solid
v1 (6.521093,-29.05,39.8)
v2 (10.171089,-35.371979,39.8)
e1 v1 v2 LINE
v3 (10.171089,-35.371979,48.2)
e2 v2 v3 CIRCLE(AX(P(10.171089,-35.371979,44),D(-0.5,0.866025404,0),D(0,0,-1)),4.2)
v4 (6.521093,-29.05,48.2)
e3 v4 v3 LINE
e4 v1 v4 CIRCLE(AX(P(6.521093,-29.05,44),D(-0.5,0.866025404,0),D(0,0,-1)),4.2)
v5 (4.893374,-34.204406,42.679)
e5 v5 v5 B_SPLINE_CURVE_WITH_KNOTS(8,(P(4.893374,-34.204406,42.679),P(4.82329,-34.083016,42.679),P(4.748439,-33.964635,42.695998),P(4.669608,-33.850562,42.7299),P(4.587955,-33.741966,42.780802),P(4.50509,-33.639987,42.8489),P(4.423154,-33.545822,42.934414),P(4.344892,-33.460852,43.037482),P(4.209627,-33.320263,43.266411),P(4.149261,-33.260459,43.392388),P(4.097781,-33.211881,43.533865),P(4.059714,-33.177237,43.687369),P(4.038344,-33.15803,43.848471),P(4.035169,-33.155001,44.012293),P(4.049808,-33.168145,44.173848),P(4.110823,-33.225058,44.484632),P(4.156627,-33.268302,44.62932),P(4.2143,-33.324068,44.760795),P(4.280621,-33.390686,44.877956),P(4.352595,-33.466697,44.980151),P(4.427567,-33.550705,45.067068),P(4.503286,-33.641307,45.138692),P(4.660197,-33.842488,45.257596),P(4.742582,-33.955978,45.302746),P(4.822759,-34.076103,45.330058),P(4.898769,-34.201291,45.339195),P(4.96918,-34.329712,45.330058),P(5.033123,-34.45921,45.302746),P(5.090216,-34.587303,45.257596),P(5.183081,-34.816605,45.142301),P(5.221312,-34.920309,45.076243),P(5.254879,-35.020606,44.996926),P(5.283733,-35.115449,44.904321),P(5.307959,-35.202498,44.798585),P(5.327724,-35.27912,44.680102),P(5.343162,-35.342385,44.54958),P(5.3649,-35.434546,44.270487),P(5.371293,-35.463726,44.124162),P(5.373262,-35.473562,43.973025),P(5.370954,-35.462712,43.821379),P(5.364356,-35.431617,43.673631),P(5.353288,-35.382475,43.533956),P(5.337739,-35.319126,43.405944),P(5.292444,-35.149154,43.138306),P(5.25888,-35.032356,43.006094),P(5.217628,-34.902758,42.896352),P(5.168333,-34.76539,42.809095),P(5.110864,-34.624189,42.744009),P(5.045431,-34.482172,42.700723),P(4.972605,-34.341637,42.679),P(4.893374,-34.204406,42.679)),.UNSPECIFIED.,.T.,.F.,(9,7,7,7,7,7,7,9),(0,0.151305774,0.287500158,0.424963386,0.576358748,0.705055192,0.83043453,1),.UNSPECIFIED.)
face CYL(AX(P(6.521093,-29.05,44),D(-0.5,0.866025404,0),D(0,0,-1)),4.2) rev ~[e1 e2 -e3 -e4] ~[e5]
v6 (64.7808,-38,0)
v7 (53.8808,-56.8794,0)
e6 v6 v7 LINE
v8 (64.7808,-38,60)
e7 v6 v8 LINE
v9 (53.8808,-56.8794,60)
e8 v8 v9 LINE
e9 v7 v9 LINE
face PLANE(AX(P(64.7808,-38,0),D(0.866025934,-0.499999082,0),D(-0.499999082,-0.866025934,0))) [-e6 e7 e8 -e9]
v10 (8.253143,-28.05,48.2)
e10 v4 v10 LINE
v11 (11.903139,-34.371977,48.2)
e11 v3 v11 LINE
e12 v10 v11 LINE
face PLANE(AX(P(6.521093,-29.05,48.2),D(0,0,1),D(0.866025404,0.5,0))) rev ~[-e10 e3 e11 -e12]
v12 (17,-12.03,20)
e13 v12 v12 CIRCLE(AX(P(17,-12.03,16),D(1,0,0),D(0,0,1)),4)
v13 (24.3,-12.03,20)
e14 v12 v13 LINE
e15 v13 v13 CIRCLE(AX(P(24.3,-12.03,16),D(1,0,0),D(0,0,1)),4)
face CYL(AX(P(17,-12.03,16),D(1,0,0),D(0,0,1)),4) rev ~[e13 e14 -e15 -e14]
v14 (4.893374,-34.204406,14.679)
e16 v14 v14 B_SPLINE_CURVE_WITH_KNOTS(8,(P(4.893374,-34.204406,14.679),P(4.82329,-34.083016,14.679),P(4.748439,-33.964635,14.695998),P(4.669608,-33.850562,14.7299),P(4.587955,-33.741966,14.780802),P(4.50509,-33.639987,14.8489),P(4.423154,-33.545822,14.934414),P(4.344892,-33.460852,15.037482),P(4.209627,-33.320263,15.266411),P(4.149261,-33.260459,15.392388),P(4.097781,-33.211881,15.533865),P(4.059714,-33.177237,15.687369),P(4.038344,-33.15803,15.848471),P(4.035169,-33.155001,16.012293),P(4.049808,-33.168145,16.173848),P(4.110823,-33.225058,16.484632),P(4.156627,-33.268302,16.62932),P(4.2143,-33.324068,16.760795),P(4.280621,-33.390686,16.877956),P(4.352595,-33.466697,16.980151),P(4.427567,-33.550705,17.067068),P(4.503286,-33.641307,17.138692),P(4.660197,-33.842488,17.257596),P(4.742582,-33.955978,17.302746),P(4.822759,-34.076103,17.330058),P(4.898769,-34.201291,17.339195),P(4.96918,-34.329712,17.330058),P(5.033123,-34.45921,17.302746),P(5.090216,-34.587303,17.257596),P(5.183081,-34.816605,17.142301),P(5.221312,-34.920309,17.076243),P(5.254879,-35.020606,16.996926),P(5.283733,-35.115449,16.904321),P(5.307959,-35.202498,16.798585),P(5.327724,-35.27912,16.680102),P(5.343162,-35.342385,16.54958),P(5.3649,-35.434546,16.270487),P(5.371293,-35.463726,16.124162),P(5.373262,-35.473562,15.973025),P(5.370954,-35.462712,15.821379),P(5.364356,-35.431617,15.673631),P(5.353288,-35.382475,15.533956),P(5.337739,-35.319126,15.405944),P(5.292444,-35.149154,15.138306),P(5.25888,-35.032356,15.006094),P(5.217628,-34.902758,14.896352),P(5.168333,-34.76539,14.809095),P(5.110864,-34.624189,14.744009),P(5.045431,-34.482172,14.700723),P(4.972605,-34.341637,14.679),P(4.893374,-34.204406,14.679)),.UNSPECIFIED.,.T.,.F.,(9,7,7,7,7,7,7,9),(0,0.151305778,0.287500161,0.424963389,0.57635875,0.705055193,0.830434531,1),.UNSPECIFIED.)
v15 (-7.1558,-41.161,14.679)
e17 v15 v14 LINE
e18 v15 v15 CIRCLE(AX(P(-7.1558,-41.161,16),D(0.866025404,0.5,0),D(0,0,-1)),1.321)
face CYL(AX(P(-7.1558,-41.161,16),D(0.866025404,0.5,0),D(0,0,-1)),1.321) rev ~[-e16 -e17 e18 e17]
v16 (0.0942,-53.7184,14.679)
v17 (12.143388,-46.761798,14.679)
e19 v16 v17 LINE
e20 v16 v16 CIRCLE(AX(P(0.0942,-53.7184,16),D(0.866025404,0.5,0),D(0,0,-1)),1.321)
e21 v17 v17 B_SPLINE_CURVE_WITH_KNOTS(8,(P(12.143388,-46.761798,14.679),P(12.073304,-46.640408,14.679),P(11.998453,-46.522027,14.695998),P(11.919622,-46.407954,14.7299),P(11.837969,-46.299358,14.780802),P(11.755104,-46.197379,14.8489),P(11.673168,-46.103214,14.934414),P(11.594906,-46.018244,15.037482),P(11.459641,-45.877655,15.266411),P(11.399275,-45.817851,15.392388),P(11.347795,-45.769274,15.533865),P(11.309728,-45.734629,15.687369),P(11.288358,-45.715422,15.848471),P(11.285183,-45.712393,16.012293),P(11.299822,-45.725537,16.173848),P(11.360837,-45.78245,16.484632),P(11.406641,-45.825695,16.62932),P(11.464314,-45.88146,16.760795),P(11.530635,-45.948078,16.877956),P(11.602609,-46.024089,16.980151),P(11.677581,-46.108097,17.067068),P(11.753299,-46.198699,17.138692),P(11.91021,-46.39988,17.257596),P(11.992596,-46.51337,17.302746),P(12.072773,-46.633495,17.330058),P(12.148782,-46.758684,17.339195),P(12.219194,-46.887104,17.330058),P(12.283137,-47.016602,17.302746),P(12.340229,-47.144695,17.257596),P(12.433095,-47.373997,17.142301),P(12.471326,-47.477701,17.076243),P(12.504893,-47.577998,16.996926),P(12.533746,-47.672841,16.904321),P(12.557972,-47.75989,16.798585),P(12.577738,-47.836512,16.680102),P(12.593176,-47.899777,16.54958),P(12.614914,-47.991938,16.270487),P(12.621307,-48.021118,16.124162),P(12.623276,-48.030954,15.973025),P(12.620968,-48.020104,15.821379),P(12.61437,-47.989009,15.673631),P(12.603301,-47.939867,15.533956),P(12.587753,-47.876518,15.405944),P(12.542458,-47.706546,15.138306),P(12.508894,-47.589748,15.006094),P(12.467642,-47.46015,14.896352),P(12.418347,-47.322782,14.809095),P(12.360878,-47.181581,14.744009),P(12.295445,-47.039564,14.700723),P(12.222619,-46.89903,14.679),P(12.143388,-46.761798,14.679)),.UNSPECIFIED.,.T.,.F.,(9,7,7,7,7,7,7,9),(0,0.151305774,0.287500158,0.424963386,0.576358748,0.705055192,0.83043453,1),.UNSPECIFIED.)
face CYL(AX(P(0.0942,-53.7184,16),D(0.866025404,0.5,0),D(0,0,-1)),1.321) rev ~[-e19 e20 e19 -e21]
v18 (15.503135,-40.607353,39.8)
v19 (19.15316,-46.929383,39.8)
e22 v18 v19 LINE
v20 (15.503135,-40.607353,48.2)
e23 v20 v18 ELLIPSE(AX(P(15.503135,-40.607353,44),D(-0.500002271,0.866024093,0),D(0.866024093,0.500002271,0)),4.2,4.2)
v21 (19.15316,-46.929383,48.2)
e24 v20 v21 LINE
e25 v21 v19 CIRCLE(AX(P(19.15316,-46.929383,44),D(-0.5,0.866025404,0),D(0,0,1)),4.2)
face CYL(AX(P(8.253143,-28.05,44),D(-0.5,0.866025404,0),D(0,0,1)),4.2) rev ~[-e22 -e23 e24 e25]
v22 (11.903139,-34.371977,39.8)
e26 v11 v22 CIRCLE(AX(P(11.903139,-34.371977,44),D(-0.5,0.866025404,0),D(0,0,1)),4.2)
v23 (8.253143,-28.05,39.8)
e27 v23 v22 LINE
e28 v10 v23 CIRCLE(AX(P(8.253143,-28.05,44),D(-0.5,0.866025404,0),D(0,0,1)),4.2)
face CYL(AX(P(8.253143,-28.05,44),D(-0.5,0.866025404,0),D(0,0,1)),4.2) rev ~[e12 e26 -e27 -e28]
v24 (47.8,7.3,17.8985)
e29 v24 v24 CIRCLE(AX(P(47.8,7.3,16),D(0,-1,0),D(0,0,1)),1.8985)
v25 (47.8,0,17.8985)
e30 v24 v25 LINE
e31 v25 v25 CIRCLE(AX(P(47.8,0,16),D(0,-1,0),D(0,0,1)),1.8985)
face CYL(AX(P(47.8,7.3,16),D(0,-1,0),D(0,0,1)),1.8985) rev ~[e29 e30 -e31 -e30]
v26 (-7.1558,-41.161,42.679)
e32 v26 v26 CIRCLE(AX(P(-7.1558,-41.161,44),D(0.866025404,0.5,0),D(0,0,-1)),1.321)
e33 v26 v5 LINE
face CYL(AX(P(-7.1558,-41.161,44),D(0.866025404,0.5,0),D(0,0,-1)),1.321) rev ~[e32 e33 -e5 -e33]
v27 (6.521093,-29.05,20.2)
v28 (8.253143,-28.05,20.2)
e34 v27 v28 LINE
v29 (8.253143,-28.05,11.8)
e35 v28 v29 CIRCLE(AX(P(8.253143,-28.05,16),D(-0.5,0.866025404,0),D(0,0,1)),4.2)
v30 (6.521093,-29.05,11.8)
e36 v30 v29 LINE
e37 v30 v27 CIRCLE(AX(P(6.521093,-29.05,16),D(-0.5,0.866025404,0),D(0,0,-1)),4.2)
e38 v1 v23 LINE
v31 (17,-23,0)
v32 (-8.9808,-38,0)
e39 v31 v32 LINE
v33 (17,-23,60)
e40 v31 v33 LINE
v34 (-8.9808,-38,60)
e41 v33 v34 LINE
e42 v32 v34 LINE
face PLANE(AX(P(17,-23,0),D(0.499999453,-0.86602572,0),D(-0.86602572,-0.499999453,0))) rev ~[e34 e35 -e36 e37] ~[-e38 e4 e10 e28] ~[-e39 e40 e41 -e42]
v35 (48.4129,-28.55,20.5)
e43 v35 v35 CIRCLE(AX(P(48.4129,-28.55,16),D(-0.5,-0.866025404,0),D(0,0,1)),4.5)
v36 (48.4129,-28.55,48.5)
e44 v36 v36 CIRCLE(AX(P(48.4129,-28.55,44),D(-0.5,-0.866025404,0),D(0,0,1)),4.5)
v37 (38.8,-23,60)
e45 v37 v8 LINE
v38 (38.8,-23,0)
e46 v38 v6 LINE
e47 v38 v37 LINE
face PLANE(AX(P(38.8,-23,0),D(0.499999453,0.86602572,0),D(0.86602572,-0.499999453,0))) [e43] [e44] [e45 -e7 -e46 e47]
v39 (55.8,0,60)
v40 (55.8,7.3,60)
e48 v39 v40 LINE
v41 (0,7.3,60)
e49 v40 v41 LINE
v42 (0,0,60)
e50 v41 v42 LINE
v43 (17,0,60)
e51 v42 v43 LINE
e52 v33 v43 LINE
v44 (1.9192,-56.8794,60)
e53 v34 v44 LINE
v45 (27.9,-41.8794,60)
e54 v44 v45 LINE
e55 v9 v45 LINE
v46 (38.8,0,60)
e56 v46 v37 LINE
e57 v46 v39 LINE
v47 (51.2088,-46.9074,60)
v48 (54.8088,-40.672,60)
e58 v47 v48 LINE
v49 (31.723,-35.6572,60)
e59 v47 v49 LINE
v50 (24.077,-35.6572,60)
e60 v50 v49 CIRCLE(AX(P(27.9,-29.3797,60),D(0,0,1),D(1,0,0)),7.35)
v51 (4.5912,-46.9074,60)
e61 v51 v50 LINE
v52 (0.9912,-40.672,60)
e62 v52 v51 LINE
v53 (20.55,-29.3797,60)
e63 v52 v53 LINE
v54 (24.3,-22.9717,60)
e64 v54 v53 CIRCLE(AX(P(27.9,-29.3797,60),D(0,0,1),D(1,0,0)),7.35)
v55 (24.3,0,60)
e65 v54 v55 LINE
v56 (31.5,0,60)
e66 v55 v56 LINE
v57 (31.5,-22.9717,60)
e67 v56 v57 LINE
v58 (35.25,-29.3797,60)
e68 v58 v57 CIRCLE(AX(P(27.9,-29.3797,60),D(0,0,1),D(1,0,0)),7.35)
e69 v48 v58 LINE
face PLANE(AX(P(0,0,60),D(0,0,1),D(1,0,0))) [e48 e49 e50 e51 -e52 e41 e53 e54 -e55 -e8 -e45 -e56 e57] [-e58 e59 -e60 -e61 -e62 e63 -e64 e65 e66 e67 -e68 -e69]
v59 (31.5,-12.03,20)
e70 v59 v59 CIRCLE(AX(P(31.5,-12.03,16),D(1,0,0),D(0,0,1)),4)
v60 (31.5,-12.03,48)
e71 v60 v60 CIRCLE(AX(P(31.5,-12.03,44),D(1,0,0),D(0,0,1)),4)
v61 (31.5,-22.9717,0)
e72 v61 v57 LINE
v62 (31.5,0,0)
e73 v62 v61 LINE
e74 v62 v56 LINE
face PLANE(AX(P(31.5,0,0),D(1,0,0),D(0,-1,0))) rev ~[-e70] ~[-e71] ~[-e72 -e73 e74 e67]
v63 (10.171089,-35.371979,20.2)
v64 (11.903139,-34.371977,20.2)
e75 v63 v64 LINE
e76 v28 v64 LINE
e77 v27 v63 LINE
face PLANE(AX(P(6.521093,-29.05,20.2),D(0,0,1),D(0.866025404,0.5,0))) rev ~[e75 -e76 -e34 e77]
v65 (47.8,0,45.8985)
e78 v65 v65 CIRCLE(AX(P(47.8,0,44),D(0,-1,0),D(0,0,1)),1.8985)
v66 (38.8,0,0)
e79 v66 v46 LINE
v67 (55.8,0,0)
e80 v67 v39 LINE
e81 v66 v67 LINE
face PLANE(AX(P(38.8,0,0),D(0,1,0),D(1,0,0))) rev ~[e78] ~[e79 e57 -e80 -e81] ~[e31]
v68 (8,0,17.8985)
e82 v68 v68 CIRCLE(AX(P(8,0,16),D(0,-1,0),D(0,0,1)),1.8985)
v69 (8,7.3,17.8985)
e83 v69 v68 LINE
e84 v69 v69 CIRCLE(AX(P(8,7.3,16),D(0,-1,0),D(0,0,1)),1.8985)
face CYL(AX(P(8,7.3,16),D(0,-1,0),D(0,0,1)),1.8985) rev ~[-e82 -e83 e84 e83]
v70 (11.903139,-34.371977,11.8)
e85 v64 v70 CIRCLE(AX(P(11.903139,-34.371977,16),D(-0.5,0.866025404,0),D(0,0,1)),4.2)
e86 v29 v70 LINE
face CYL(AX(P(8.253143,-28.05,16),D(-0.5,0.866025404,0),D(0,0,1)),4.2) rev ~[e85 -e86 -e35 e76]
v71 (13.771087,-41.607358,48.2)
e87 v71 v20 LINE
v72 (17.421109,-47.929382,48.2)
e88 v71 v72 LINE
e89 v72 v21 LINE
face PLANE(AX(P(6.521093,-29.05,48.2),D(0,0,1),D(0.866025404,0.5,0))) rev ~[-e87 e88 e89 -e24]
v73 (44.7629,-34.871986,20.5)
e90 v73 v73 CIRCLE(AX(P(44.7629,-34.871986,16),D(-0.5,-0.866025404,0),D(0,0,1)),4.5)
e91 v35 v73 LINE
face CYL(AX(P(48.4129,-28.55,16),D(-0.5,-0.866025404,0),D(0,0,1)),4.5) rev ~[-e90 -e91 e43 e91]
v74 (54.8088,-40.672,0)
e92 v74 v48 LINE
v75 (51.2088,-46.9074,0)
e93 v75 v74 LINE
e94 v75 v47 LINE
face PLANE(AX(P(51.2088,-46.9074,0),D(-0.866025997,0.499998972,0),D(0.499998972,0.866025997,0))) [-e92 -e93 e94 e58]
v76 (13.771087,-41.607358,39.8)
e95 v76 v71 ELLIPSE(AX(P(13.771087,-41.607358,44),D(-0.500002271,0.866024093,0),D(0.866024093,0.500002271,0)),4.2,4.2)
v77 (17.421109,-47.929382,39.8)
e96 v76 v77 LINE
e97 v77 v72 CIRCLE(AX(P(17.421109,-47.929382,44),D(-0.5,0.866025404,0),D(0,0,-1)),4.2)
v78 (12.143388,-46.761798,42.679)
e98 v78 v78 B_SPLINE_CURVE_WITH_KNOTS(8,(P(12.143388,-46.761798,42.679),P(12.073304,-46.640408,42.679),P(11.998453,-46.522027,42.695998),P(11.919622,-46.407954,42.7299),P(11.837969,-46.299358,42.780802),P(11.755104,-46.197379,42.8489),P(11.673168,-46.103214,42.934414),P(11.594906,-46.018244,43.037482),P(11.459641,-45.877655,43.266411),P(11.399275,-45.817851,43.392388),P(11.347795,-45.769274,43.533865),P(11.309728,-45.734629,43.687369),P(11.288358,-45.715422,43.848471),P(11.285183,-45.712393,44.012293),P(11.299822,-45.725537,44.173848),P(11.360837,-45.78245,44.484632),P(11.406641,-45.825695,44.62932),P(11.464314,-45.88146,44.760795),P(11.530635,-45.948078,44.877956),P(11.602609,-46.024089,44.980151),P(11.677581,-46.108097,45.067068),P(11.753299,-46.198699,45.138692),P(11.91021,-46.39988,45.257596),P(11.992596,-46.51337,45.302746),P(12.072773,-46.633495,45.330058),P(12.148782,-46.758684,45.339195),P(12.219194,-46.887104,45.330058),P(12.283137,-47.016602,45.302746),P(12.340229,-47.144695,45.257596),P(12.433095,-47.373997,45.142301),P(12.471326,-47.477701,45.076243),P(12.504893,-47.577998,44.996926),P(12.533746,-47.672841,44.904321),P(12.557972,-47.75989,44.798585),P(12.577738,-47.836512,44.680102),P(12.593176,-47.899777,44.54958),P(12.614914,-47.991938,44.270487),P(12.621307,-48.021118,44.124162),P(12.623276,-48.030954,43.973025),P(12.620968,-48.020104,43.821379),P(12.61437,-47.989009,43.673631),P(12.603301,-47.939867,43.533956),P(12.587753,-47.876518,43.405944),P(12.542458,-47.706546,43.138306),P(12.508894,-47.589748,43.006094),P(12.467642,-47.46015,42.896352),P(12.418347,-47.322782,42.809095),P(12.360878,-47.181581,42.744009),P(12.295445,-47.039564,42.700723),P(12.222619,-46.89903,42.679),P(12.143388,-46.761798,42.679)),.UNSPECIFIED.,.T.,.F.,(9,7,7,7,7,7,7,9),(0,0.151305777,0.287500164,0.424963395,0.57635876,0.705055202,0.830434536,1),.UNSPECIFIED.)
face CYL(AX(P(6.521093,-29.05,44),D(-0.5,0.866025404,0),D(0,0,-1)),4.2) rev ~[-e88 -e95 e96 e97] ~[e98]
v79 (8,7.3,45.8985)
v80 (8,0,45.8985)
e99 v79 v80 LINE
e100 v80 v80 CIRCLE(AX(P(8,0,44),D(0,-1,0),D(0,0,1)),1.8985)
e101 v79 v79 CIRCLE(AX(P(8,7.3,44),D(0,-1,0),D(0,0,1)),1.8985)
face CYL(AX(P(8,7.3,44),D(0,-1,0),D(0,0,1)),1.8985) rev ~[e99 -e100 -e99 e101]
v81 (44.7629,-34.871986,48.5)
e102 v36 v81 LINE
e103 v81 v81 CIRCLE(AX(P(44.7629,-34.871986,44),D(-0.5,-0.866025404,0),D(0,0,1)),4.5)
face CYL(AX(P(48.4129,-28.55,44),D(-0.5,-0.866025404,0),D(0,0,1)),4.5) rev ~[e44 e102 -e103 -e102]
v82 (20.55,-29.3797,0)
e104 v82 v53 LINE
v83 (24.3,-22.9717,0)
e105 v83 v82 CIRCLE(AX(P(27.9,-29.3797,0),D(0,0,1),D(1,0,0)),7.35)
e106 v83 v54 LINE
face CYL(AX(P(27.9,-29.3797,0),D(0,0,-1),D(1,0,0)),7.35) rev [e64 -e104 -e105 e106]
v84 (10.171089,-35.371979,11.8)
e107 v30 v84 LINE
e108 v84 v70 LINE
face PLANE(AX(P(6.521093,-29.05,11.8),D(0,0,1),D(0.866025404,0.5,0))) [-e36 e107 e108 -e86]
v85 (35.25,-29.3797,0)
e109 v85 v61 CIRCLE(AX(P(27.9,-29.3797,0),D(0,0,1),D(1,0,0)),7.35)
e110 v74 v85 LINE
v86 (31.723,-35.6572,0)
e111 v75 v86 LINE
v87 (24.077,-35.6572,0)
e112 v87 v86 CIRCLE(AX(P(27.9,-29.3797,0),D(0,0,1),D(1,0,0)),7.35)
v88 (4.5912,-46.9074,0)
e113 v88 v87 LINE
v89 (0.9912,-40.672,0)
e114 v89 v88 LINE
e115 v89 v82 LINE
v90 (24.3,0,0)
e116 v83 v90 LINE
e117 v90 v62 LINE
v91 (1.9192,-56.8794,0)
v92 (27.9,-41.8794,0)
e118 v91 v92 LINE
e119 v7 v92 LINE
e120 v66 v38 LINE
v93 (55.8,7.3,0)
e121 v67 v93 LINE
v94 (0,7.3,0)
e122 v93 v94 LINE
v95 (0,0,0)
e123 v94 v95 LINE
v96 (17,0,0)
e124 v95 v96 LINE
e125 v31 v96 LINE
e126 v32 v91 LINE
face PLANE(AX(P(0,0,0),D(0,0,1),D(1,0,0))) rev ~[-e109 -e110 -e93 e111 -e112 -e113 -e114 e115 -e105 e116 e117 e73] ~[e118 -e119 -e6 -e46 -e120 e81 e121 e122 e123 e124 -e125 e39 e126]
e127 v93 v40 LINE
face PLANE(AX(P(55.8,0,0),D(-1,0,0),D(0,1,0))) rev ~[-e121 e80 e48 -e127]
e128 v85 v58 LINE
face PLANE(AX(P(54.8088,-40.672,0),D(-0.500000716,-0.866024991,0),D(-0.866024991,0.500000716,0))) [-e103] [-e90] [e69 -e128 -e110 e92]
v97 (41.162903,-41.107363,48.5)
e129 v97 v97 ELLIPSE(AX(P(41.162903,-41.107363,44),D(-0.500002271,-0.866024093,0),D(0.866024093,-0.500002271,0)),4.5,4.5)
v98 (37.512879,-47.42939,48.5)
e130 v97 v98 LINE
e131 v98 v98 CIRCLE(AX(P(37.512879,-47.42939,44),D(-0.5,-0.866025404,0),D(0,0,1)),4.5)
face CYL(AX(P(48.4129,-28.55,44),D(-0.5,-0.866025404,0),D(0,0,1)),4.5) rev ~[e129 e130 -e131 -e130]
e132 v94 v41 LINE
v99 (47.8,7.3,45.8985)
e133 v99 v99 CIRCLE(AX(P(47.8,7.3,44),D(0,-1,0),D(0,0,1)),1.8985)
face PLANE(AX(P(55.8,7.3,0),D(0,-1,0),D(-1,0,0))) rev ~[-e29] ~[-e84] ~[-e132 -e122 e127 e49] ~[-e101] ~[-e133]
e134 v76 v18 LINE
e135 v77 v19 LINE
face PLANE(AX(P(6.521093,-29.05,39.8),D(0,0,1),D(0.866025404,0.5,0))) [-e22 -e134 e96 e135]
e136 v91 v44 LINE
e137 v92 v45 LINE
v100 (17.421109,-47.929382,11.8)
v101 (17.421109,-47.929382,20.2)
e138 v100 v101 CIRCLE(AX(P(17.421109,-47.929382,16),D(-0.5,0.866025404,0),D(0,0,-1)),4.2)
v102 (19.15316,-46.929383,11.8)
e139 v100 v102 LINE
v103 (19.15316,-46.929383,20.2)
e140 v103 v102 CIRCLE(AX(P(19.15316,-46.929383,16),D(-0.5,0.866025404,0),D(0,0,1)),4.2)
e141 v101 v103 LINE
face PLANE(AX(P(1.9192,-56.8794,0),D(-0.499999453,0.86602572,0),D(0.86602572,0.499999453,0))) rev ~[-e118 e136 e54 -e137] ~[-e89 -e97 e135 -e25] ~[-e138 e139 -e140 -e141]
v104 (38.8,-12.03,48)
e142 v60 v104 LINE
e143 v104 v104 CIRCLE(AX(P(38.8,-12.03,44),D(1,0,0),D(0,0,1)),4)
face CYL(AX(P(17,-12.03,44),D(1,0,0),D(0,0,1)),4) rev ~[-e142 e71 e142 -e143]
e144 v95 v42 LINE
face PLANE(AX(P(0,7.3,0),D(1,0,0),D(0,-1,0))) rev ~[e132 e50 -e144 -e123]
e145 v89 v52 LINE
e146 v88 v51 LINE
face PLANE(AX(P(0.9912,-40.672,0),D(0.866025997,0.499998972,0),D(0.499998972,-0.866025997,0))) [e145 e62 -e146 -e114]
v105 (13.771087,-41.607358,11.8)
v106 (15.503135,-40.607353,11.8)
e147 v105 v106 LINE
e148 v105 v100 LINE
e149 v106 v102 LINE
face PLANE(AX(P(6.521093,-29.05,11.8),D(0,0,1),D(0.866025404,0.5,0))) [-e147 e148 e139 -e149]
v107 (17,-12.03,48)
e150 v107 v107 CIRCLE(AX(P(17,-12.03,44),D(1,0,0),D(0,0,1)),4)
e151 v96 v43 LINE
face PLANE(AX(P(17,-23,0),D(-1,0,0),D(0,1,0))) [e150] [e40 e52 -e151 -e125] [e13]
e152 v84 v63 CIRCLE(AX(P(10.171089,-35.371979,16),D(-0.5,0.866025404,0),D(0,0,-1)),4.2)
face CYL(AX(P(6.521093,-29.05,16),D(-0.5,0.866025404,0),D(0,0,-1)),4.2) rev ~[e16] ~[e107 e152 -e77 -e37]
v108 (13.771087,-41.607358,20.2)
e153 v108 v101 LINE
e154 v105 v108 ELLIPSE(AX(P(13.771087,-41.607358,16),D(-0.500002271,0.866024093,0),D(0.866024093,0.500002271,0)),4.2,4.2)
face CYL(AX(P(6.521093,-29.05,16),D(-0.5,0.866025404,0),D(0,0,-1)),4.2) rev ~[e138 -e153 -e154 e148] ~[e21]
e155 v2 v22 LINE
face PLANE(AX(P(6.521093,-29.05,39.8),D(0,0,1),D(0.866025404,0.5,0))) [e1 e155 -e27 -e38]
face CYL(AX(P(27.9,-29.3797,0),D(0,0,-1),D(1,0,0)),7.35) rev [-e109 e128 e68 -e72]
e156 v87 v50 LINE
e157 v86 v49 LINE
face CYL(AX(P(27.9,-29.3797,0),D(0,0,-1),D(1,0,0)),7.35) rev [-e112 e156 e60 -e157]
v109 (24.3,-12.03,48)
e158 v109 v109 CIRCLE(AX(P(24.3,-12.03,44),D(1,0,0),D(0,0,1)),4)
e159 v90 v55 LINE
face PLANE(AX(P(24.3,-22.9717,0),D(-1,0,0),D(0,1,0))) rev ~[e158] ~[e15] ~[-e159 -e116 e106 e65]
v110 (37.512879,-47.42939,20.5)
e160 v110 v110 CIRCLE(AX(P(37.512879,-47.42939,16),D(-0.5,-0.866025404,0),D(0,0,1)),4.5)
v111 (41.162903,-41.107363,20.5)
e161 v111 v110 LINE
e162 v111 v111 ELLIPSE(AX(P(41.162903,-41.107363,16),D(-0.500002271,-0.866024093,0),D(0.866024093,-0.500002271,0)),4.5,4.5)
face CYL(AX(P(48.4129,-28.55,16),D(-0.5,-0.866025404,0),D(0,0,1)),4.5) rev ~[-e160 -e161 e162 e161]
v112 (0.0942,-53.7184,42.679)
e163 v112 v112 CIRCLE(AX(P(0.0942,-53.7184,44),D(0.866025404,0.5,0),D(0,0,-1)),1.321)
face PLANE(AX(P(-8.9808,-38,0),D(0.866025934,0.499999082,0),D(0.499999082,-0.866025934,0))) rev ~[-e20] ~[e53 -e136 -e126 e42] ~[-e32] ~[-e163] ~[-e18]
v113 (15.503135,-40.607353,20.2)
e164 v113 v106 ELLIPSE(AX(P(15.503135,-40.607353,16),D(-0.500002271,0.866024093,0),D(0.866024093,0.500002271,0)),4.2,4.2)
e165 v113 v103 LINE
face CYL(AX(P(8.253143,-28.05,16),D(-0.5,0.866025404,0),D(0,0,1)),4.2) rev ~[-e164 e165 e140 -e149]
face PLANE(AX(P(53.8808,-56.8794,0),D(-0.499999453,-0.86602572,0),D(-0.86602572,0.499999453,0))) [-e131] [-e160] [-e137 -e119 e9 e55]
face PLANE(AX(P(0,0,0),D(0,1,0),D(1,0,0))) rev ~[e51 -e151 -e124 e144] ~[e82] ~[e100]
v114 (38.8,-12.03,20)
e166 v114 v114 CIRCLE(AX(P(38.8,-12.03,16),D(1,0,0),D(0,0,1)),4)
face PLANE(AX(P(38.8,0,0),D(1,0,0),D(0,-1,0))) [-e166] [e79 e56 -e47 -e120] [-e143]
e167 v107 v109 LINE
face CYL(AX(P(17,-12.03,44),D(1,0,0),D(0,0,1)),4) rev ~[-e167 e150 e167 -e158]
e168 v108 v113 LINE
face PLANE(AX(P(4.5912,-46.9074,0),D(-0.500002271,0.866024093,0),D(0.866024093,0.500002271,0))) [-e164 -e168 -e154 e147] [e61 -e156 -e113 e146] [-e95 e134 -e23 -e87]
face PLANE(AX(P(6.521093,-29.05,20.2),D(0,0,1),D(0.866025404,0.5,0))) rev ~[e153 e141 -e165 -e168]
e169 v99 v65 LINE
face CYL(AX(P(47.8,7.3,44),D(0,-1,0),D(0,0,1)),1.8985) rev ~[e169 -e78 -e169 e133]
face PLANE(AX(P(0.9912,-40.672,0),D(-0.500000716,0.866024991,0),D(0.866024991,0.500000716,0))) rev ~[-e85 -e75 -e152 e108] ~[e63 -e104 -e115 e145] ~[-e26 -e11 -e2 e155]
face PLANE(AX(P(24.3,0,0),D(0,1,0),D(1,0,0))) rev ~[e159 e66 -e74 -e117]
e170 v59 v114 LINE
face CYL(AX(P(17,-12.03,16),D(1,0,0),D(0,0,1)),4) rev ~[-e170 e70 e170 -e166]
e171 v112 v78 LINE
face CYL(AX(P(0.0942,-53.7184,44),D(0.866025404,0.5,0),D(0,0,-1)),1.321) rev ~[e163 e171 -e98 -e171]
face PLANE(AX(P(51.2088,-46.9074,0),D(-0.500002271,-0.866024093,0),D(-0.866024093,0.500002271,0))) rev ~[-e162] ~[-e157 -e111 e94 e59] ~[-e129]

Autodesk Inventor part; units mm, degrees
ref_plane "YZ Plane" through (0, 0, 0) normal (1, 0, 0) x (0, 1, 0)
ref_plane "XZ Plane" through (0, 0, 0) normal (0, 1, 0) x (-1, 0, 0)
ref_plane "XY Plane" through (0, 0, 0) normal (0, 0, 1) x (1, 0, 0)
sketch "Sketch - Bearing Body" plane through (0, 0, 0) normal (0, 0, 1) x (1, 0, 0)
  line L0 (55.8, 0) -> (55.8, 7.3)
  line L1 (55.8, 7.3) -> (0, 7.3)
  line L2 (0, 7.3) -> (0, 0)
  line L3 (38.8, 0) -> (38.8, -23)
  line L4 (17, -23) -> (17, 0)
  line L5 (17, -23) -> (-8.9808, -38)
  line L6 (-8.9808, -38) -> (1.9192, -56.8794)
  line L7 (1.9192, -56.8794) -> (27.9, -41.8794)
  line L8 (38.8, -23) -> (64.7808, -38)
  line L9 (64.7808, -38) -> (53.8808, -56.8794)
  line L10 (53.8808, -56.8794) -> (27.9, -41.8794)
  line L11 (0, 0) -> (17, 0)
  line L12 (38.8, 0) -> (55.8, 0)
  line L13 (24.3, 0) -> (31.5, 0)
  line L14 (31.5, 0) -> (31.5, -22.9717)
  line L15 (24.3, -22.9717) -> (24.3, 0)
  line L16 (0.9912, -40.672) -> (4.5912, -46.9074)
  line L17 (4.5912, -46.9074) -> (24.077, -35.6572)
  line L18 (0.9912, -40.672) -> (20.55, -29.3797)
  line L19 (51.2088, -46.9074) -> (54.8088, -40.672)
  line L20 (54.8088, -40.672) -> (35.25, -29.3797)
  line L21 (51.2088, -46.9074) -> (31.723, -35.6572)
  circle A0 centre (27.9, -29.3797) radius 7.35
  point P0 (17, -11.5)
  point P1 (51.7904, -30.5)
  dimension "d1" = 7.3
  dimension "d3" = 23
  dimension "LegLength" = 30
  dimension "d7" = 21.8
  dimension "d12" = 30
  dimension "d13" = 21.8
  dimension "LegAngle2" = 120
  dimension "d15" = 120
  dimension "d17" = 21.8
  dimension "d19" = 17
  dimension "d20" = 17
  dimension "d22" = 7.2
  dimension "d23" = 7.3
  dimension "d24" = 7.3
  dimension "d25" = 7.2
  dimension "d26" = 7.3
  dimension "d27" = 7.2
  dimension "d28" = 7.3
  dimension "d29" = 7.3
  dimension "d77" = 14.7
extrude "Extrusion - Bearing Body" add sketch "Sketch - Bearing Body" along normal blind 60
sketch "Sketch - Bearing Screw Holes 1" plane through (17, -23, 60) normal (-0.5, 0.866, 0) x (0.866, 0.5, 0)
  line L0 (-30, 0) -> (0, 0) projected
  line L1 (-30, 60) -> (0, 60) projected
  line L2 (-30, 60) -> (-30, 0) projected
  line L3 (0, 60) -> (0, 0) projected
  line L4 (-12.1, 48.2) -> (-10.1, 48.2)
  line L5 (-12.1, 39.8) -> (-10.1, 39.8)
  line L6 (-12.1, 20.2) -> (-10.1, 20.2)
  line L7 (-12.1, 11.8) -> (-10.1, 11.8)
  arc A0 (-12.1, 20.2) -> (-12.1, 11.8) centre (-12.1, 16) ccw
  arc A1 (-10.1, 11.8) -> (-10.1, 20.2) centre (-10.1, 16) ccw
  arc A2 (-10.1, 39.8) -> (-10.1, 48.2) centre (-10.1, 44) ccw
  arc A3 (-12.1, 48.2) -> (-12.1, 39.8) centre (-12.1, 44) ccw
  point P0 (-3.2224, 60)
  point P1 (-11.1, 16)
  point P2 (-11.1, 44)
  point P3 (-11.1, 48.2)
  point P4 (-11.1, 39.8)
  point P5 (-11.1, 20.2)
  point P6 (-11.1, 11.8)
  dimension "d47" = 16
  dimension "d48" = 18.9
  dimension "d49" = 16
  dimension "BearingHoleElipseMiddle" = 2
  dimension "BearingBoltRadius" = 4.2
  dimension "d91" = 4.2
  dimension "d92" = 4.2
  dimension "d93" = 4.2
  dimension "d94" = 4.2
sketch "Sketch - Bearing Screw Holes 2" plane through (64.7808, -38, 60) normal (0.5, 0.866, 0) x (0.866, -0.5, 0)
  line L0 (-30, 0) -> (0, 0) projected
  line L1 (0, 60) -> (0, 0) projected
  line L2 (-30, 60) -> (0, 60) projected
  point P0 (-75.1018, 60)
  point P1 (-18.9, 16)
  point P2 (-18.9, 44)
  dimension "d50" = 18.9
  dimension "d51" = 16
  dimension "d52" = 16
hole "Hole - Bearing Screw Holes 2" at (48.4129, -28.55, 16) at (48.4129, -28.55, 44) direction (-0.5, -0.866, 0) diameter 9 end through all clearance for "Socket Head Cap Screw ISO 4762" size "M8" standard "ISO"
sketch "Sketch - Bearing Screw Holes 3" plane through (17, -23, 0) normal (-1, 0, 0) x (0, 0, 1)
  line L0 (60, 0) -> (60, 23) projected
  line L1 (0, 23) -> (60, 23) projected
  line L2 (0, 0) -> (0, 23) projected
  point P0 (16, 10.97)
  point P1 (44, 10.97)
  dimension "d67" = 16
  dimension "d68" = 12.03
  dimension "d69" = 16
hole "Hole - Bearing Screw Holes 3" at (17, -12.03, 16) at (17, -12.03, 44) direction (1, 0, 0) diameter 8 end through all clearance for "Hex Head Cap Screw ISO 24017" size "M8" standard "ISO"
sketch "Sketch - Plate Holes" plane through (0, 7.3, 0) normal (0, 1, 0) x (1, 0, 0)
  line L0 (0, -60) -> (55.8, -60) projected
  line L1 (55.8, 0) -> (55.8, -60) projected
  line L2 (0, 0) -> (55.8, 0) projected
  line L3 (0, 0) -> (0, -60) projected
  point P0 (8, -16)
  point P1 (8, -44)
  point P2 (47.8, -16)
  point P3 (47.8, -44)
  dimension "PlateAttachmentHoleVert" = 16
  dimension "d79" = 16
  dimension "PlateAttachmentHoleHoriz" = 8
  dimension "d81" = 8
hole "Hole - Plate Holes" at (8, 7.3, 16) at (8, 7.3, 44) at (47.8, 7.3, 16) at (47.8, 7.3, 44) direction (0, -1, 0) diameter 3.797 depth 7.3 tip angle 118 clearance for "Flat Head Machine Screw (82)" size "#6" standard "Ansi Unified Screw Threads"
extrude "Extrusion4" cut sketch "Sketch - Bearing Screw Holes 1" against normal through all contours L4 A2 L5 A3 | L6 A1 L7 A0
sketch "Sketch7" plane through (-8.9808, -38, 0) normal (-0.866, -0.5, 0) x (0, 0, 1)
  line L0 (60, -21.8) -> (60, 0) projected
  line L1 (0, 0) -> (60, 0) projected
  line L2 (0, -21.8) -> (0, 0) projected
  line L3 (0, -21.8) -> (60, -21.8) projected
  point P0 (0, 28.4186)
  point P1 (16, -3.65)
  point P2 (16, -18.15)
  point P3 (44, -18.15)
  point P4 (44, -3.65)
  dimension "d97" = 3.65
  dimension "d98" = 3.65
  dimension "d99" = 16
  dimension "d100" = 16
hole "Hole5" at (-7.1558, -41.161, 16) at (0.0942, -53.7184, 16) at (0.0942, -53.7184, 44) at (-7.1558, -41.161, 44) direction (0.866, 0.5, 0) diameter 2.642 depth 15 thread size "6-32 UNC" class "2B" standard "ANSI Unified Screw Threads"
equation "\"d1\" = WallWidth"
equation "\"d7\" = SupportWidth"
equation "\"d12\" = LegLength"
equation "\"d13\" = SupportWidth"
equation "\"LegAngle2\" = LegAngle"
equation "\"d15\" = LegAngle"
equation "\"d17\" = SupportWidth"
equation "\"d19\" = PlateHangOver"
equation "\"d20\" = PlateHangOver"
equation "\"d22\" = BearingWidth + BearingPadding"
equation "\"d23\" = WallWidth"
equation "\"d24\" = WallWidth"
equation "\"d25\" = BearingWidth + BearingPadding"
equation "\"d26\" = WallWidth"
equation "\"d27\" = BearingWidth + BearingPadding"
equation "\"d28\" = WallWidth"
equation "\"d29\" = WallWidth"
equation "\"d47\" = BearingHorizontalDistance"
equation "\"d48\" = BearingVerticalHoleDistance"
equation "\"d49\" = BearingHorizontalDistance"
equation "\"BearingBoltRadius\" = 0.5 * BearingHoleSize"
equation "\"d91\" = 0.5 * BearingHoleSize"
equation "\"d92\" = 0.5 * BearingHoleSize"
equation "\"d93\" = 0.5 * BearingHoleSize"
equation "\"d94\" = 0.5 * BearingHoleSize"
equation "\"d50\" = BearingVerticalHoleDistance"
equation "\"d51\" = BearingHorizontalDistance"
equation "\"d52\" = BearingHorizontalDistance"
equation "\"d79\" = PlateAttachmentHoleVert"
equation "\"d81\" = PlateAttachmentHoleHoriz"
equation "\"d87\" = WallWidth"
equation "\"d97\" = 0.5 * WallWidth"
equation "\"d98\" = 0.5 * WallWidth"
equation "\"d99\" = BearingHorizontalDistance"
equation "\"d100\" = BearingHorizontalDistance"
equation "\"LegAngle\" = 120deg"
equation "\"BearingWidth\" = 7"
equation "\"BearingOuterDiameter\" = 22"
equation "\"BearingPadding\" = 0.2"
equation "\"SupportWidth\" = BearingWidth + 2 * WallWidth + BearingPadding"
equation "\"PlateHangOver\" = 17"
equation "\"RodDiameter\" = 12.7"
equation "\"RodDiameterPadding\" = 2"
equation "\"WallWidth\" = 7.3"
equation "\"BearingHoleSize\" = 8.4"
equation "\"BearingHorizontalDistance\" = 16"
equation "\"BearingVerticalHoleDistance\" = 18.9"
properties part number "LinearBearing"
